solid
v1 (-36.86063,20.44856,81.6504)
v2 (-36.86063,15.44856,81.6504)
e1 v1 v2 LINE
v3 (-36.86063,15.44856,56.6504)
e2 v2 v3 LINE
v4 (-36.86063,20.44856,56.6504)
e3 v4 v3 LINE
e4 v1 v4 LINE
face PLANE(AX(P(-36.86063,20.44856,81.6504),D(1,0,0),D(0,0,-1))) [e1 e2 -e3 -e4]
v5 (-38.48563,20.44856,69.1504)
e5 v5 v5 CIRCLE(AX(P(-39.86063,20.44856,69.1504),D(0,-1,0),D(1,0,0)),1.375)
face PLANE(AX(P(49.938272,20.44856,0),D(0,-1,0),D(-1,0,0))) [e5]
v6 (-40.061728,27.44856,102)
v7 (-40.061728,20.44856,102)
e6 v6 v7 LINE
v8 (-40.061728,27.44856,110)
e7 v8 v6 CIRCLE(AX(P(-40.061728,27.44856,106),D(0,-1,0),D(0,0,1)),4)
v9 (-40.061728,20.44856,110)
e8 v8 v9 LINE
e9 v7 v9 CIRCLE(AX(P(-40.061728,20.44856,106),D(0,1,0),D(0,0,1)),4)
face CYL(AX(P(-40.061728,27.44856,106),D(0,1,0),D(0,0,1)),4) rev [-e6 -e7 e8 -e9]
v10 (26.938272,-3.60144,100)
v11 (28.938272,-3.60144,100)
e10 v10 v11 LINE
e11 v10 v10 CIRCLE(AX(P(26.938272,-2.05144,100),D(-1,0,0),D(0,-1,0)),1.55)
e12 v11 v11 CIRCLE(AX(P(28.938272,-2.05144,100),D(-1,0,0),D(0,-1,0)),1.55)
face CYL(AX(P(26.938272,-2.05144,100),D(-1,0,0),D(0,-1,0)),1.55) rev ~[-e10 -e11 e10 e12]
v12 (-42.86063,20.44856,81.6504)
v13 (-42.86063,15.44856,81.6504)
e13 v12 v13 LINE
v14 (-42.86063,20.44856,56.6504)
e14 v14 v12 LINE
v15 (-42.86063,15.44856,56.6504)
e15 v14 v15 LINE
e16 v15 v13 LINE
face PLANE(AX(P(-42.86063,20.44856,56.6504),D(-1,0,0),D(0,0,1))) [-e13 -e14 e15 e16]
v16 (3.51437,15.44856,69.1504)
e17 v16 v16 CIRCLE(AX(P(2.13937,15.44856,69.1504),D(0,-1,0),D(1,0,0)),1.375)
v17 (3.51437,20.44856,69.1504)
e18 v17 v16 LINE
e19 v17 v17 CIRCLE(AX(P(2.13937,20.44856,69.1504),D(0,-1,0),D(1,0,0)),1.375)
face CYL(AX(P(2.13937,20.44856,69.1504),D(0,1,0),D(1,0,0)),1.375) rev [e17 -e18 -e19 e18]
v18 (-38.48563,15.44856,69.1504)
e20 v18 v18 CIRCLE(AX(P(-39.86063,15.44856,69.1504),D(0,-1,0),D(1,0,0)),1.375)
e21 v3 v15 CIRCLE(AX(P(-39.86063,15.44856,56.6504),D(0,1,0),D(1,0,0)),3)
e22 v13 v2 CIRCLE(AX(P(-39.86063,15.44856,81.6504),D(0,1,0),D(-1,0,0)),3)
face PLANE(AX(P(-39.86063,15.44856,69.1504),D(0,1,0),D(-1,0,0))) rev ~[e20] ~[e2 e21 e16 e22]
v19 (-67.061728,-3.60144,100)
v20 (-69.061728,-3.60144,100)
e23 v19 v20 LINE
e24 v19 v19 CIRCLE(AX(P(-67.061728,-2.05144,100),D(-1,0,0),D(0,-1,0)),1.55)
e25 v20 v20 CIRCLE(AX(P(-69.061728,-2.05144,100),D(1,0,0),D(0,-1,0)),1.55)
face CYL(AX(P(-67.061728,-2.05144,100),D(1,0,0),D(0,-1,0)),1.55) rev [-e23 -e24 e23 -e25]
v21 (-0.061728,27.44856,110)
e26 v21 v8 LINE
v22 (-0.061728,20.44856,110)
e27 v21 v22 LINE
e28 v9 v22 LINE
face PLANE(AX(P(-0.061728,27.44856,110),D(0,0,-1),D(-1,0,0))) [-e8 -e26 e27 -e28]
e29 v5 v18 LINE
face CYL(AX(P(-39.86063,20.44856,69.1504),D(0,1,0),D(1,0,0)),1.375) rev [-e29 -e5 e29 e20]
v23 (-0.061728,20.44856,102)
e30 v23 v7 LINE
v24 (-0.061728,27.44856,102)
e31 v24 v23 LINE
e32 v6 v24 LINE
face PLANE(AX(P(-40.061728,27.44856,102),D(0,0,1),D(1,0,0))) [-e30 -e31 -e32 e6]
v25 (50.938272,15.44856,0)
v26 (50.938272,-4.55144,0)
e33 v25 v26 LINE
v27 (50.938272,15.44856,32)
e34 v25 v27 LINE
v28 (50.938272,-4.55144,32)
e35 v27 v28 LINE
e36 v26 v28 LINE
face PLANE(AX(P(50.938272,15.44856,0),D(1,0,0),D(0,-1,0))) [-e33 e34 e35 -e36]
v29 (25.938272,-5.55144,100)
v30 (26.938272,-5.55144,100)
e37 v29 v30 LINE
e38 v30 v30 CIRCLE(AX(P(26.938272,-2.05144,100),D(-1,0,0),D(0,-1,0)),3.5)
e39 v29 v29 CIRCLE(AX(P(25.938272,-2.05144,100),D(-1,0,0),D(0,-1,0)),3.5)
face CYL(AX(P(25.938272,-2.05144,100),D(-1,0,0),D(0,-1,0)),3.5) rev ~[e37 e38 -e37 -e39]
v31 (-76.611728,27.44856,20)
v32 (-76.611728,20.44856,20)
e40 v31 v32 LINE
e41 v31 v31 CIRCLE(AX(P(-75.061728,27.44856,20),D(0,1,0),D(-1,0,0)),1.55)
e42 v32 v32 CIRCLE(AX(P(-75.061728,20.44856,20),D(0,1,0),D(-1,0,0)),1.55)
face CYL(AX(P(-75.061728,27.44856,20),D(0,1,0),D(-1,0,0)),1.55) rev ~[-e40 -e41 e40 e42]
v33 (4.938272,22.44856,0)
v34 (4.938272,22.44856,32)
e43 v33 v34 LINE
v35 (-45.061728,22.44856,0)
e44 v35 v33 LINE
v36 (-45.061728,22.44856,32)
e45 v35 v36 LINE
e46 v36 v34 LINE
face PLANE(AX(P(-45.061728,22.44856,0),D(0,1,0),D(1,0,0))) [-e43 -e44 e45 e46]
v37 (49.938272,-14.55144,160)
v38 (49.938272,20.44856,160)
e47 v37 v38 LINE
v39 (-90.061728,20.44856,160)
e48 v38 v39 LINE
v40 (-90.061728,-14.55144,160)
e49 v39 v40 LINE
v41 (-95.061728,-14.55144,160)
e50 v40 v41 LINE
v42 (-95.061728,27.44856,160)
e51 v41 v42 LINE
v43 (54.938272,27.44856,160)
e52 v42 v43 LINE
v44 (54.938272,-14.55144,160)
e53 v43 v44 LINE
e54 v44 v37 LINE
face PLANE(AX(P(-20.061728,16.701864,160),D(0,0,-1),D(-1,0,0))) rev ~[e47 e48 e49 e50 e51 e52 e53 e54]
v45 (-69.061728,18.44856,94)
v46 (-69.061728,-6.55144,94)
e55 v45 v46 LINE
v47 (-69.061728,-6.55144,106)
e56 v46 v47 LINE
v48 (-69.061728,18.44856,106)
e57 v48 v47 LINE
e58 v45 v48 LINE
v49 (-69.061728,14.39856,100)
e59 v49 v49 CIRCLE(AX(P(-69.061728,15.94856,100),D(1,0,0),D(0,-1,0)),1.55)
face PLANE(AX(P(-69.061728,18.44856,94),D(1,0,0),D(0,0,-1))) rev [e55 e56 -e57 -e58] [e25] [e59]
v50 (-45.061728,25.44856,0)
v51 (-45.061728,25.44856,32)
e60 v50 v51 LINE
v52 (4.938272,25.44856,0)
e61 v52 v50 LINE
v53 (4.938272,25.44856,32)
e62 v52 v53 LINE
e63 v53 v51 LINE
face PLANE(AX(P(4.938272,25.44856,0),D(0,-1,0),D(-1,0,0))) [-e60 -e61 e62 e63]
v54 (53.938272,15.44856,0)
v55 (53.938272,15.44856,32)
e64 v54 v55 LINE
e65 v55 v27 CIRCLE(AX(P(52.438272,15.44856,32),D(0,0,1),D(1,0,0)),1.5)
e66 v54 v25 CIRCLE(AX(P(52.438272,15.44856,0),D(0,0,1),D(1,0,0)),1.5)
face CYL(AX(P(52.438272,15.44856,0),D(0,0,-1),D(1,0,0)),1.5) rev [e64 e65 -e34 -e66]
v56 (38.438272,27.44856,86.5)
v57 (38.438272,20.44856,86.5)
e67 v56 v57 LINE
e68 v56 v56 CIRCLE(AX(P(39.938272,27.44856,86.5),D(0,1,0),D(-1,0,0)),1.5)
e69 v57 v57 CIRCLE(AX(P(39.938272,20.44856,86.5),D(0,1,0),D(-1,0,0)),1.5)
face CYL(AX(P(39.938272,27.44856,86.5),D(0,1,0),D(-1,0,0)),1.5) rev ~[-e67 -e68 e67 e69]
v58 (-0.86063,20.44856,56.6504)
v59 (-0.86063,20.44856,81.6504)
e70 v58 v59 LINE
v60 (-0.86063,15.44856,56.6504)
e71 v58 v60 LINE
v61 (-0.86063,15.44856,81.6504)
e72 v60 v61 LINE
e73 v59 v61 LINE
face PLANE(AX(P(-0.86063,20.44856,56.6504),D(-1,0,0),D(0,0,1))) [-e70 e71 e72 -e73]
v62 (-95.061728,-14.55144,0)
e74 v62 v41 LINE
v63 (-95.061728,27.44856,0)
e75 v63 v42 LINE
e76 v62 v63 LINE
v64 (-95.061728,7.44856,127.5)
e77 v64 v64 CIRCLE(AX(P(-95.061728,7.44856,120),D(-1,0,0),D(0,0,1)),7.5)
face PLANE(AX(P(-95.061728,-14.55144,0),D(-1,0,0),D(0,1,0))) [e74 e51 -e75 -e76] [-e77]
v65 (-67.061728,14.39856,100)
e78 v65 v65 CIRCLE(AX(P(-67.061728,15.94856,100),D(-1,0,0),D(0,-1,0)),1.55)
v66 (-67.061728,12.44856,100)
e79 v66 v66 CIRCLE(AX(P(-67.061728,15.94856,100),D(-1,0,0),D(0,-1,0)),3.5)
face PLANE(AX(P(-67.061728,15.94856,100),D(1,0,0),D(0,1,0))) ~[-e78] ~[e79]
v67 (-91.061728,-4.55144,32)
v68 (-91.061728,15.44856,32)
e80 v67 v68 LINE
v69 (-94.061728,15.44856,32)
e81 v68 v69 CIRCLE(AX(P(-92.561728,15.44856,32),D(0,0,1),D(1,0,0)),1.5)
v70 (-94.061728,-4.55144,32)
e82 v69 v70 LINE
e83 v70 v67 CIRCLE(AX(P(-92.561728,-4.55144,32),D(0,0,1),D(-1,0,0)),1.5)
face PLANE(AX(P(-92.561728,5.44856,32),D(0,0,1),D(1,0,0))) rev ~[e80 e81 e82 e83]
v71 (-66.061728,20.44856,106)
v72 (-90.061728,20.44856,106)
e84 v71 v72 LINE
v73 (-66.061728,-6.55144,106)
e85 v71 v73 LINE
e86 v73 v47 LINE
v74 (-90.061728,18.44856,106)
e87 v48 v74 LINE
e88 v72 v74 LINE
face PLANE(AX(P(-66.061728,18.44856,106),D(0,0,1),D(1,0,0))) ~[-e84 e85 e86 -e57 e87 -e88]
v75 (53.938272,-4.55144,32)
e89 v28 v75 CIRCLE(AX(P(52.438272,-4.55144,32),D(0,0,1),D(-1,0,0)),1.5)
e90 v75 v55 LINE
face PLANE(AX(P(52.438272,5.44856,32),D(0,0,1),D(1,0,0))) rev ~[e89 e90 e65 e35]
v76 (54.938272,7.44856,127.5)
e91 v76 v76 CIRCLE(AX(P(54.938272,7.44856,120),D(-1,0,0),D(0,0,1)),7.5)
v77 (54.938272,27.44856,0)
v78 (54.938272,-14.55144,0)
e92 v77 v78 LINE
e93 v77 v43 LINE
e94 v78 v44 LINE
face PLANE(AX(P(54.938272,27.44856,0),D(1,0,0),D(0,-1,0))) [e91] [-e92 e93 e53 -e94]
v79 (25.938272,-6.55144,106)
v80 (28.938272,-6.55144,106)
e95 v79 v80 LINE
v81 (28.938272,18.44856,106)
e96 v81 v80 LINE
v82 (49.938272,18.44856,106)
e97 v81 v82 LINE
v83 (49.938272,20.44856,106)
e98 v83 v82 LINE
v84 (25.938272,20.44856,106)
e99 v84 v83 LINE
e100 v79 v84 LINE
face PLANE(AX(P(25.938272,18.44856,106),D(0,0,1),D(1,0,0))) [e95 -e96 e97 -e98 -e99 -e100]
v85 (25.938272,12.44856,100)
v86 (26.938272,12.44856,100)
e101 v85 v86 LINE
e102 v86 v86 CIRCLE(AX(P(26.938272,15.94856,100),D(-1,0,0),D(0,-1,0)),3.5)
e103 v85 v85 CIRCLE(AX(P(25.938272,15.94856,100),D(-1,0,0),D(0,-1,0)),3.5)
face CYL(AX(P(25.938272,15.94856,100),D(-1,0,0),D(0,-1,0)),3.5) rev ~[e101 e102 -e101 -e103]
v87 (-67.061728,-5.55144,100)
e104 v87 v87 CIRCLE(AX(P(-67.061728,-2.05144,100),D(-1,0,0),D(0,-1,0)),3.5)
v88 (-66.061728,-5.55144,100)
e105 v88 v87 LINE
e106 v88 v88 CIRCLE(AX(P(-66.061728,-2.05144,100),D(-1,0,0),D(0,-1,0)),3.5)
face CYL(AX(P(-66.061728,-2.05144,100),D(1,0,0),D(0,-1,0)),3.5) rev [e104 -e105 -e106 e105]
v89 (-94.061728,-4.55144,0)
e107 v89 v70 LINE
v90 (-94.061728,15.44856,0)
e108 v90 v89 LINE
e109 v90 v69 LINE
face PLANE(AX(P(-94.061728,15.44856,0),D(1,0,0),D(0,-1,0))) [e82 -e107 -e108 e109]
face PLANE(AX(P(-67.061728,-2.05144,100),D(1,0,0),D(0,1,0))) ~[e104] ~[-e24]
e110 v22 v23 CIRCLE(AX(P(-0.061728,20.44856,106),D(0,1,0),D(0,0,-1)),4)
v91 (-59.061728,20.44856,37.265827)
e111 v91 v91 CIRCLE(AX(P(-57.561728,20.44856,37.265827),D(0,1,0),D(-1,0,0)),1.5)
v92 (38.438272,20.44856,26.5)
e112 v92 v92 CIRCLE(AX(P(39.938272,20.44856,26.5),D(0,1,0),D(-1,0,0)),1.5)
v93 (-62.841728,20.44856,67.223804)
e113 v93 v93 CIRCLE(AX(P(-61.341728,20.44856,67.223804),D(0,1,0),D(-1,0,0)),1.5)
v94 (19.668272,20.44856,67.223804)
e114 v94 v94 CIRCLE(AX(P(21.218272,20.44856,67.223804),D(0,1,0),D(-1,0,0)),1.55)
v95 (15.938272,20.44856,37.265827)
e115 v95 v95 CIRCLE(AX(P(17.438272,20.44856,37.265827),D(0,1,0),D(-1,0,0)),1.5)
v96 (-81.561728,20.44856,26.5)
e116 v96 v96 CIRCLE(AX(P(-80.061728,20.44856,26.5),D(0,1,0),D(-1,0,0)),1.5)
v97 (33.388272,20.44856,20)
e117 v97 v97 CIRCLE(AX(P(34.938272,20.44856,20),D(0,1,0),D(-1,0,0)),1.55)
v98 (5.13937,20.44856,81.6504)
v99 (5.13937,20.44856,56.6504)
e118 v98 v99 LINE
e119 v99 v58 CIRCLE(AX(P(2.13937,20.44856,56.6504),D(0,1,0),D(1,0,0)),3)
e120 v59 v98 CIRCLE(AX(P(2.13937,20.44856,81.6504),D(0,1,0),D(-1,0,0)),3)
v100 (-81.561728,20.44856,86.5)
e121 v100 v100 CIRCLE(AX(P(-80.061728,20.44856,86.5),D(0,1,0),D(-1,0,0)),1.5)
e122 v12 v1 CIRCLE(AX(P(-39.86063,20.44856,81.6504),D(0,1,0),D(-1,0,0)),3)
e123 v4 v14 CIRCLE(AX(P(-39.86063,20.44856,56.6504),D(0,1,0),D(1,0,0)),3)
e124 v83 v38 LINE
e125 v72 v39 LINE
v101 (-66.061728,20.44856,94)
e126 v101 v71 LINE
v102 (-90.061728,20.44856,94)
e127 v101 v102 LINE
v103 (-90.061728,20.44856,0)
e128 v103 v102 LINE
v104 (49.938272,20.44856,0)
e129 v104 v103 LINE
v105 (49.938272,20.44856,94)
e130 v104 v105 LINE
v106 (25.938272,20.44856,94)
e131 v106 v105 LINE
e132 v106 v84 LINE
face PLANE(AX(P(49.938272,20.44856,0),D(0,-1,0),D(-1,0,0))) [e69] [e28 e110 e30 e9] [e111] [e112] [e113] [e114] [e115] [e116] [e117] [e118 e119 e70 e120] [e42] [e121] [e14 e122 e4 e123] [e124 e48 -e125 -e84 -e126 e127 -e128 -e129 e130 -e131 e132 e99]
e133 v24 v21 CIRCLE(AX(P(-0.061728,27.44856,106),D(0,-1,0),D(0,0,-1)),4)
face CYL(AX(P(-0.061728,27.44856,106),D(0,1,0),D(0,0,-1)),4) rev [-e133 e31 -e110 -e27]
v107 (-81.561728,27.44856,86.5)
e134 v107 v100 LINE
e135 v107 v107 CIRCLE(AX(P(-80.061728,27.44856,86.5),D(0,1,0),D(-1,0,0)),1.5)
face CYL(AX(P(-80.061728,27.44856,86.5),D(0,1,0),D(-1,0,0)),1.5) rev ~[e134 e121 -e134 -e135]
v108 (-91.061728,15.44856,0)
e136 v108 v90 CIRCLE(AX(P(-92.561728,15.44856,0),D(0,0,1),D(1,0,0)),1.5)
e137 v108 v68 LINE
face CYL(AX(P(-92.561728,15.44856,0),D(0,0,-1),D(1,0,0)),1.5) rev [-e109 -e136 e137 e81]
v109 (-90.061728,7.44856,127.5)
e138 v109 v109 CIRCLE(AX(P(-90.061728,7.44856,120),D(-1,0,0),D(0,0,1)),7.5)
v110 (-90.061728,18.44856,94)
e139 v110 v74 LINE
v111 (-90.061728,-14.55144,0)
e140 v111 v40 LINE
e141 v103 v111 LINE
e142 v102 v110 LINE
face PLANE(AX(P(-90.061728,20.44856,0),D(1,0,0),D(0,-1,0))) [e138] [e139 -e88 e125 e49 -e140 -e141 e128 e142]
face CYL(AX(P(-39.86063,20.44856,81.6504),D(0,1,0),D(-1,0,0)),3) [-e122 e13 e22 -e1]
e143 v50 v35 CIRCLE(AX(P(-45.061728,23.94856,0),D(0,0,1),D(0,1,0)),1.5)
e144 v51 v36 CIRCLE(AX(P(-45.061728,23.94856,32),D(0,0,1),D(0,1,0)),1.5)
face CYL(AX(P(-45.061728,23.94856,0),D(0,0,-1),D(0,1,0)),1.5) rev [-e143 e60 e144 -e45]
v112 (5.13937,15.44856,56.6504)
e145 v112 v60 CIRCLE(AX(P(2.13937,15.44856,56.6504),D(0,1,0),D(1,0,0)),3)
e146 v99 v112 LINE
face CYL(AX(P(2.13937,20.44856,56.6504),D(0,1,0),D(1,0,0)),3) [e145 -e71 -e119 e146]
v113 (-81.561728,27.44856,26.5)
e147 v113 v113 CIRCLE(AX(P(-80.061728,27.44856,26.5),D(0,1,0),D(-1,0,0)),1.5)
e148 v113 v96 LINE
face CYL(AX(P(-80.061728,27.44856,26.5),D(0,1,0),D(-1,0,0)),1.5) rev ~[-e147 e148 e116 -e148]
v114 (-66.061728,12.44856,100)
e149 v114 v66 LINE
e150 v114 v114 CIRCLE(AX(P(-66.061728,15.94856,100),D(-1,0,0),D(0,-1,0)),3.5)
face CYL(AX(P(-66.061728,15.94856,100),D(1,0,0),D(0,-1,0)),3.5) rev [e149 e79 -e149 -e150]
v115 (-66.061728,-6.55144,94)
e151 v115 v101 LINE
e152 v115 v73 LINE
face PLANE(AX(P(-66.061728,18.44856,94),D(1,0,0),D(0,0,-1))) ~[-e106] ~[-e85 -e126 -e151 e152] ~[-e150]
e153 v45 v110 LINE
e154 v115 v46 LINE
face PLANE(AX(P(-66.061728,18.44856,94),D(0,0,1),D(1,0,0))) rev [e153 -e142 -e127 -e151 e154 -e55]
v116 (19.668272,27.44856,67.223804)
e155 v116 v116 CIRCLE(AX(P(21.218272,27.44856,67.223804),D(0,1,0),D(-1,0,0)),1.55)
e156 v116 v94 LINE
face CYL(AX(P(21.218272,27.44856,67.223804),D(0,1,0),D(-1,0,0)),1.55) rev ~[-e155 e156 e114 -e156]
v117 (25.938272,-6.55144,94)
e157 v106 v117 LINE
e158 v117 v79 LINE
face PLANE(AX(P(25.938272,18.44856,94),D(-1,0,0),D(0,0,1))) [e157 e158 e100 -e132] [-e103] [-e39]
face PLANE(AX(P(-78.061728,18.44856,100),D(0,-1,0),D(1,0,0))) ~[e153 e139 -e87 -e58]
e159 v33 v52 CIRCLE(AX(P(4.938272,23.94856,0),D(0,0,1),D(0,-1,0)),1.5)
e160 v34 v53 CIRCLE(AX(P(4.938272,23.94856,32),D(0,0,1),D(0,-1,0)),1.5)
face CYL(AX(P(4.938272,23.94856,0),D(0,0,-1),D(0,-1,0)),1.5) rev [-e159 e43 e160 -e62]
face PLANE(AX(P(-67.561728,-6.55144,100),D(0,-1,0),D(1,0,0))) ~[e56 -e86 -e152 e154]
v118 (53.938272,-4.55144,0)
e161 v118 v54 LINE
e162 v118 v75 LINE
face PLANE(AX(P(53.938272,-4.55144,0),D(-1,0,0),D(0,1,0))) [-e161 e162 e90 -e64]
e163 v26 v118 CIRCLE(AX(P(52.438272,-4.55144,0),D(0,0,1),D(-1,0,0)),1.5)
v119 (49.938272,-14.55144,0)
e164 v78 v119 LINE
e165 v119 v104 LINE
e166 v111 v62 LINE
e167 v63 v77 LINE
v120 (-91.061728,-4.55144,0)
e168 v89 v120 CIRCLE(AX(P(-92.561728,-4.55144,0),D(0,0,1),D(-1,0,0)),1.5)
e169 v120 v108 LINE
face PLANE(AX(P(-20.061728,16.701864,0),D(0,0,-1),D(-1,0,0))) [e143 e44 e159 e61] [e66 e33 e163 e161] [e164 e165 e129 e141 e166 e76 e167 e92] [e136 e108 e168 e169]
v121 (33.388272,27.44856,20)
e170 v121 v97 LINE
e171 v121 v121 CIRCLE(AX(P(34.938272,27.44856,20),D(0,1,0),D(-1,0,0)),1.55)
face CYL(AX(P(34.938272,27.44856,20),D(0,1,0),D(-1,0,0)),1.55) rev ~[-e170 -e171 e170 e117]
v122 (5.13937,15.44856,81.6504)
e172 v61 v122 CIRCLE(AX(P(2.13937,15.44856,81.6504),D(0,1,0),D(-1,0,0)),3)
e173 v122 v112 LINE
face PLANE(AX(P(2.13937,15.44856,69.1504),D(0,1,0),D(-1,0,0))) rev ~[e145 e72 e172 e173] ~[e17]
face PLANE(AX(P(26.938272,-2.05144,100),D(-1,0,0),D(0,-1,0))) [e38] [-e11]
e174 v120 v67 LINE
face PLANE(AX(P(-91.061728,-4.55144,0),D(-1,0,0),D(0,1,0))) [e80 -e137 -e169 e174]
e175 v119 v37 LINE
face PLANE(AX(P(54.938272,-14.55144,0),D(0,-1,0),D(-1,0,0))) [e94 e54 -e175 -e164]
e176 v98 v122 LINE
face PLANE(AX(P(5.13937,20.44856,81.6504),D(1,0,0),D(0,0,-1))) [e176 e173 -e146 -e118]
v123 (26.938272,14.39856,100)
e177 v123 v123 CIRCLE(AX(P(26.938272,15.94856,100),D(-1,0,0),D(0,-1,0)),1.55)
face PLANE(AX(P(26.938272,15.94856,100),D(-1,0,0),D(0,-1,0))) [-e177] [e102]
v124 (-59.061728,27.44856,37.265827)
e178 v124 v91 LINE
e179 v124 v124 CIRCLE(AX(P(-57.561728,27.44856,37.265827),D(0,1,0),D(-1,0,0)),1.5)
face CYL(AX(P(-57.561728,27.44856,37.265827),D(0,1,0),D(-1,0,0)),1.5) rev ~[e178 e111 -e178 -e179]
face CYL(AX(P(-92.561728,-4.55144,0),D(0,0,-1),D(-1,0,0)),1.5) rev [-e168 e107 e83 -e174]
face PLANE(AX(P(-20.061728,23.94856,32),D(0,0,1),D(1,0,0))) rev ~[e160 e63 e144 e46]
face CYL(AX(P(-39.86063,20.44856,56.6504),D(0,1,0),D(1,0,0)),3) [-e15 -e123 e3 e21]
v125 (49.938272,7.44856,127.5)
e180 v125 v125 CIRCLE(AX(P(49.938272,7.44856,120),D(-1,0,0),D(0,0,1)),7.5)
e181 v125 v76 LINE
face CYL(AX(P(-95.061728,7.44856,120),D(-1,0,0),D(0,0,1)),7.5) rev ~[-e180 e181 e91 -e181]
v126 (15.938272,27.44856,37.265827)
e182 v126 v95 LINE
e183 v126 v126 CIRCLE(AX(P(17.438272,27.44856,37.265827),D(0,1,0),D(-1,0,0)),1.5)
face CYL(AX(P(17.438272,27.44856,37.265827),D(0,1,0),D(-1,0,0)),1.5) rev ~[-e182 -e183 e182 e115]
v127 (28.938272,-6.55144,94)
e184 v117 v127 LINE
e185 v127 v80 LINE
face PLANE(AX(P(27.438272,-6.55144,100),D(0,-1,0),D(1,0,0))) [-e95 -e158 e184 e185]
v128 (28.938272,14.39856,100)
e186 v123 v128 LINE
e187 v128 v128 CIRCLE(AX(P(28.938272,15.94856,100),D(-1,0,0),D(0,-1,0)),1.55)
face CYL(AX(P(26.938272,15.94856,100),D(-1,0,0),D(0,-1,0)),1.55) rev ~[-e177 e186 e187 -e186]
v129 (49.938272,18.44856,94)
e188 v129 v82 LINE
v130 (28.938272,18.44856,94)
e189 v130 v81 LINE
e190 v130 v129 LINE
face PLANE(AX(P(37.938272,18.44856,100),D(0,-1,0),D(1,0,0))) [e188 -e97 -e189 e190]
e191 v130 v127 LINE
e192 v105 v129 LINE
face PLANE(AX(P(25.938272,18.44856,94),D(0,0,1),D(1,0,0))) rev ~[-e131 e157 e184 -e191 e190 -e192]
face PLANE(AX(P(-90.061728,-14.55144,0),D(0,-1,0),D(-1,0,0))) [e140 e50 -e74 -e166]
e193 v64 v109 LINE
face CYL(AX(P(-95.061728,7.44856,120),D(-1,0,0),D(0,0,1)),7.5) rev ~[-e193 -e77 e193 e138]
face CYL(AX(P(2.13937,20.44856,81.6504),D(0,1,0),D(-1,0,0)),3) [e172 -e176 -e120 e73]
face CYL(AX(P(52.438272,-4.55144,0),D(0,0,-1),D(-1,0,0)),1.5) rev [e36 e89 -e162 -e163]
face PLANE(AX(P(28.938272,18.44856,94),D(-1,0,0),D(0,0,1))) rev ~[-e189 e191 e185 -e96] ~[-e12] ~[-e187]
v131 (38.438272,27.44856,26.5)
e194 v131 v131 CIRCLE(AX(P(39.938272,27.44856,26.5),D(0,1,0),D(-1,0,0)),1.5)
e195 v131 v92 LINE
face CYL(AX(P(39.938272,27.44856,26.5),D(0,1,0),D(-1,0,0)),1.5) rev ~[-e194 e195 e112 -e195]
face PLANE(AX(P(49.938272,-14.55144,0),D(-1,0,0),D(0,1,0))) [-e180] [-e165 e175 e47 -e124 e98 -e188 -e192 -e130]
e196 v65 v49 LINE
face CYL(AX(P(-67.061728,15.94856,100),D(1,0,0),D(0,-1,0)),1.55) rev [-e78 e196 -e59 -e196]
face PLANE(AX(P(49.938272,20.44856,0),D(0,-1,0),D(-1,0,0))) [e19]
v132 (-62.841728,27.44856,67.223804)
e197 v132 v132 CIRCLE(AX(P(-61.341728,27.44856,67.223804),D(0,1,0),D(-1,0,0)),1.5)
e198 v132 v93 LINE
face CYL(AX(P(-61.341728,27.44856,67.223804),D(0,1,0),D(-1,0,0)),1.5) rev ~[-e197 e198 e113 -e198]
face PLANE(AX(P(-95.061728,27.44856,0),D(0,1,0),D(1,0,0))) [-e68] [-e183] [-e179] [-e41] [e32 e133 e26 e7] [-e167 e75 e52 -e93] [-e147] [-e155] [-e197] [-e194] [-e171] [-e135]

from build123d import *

# Parameters (mm, degrees)
BOSS_EXTRUDE1_DEPTH = 160
CUT_EXTRUDE1_DEPTH  = 32
SKETCH3_R           = 7.5
CUT_EXTRUDE2_DEPTH  = 210
SKETCH5_R           = 1.5
CUT_EXTRUDE4_DEPTH  = 210
CUT_EXTRUDE6_DEPTH  = 20
SKETCH8_R           = 1.55
CUT_EXTRUDE7_DEPTH  = 10
SKETCH9_W           = 24
SKETCH9_H           = 12
BOSS_EXTRUDE3_DEPTH = 2
SKETCH10_W          = 3
SKETCH10_H          = 12
BOSS_EXTRUDE4_DEPTH = 25
SKETCH11_R          = 3.5
CUT_EXTRUDE8_DEPTH  = 1
SKETCH12_R          = 1.55
CUT_EXTRUDE9_DEPTH  = 3
SKETCH13_R          = 1.5
SKETCH13_R_2        = 1.55
CUT_EXTRUDE10_DEPTH = 10
SKETCH14_R          = 1.375
BOSS_EXTRUDE5_DEPTH = 5


with BuildPart() as part:
    # Sketch1 → Boss-Extrude1 (new body)
    with BuildSketch(Plane.XY):
        Polygon((-95.061728395, -14.551440329), (-95.061728395, 27.448559671), (54.938271605, 27.448559671), (54.938271605, -14.551440329), (49.938271605, -14.551440329), (49.938271605, 20.448559671), (-90.061728395, 20.448559671), (-90.061728395, -14.551440329), align=None)
    extrude(amount=BOSS_EXTRUDE1_DEPTH)

    # Sketch2 → Cut-Extrude1 (cut)
    with BuildSketch(Plane(origin=(0, 0, 0), x_dir=(-1, 0, 0), z_dir=(0, 0, -1))):
        with BuildLine():
            Line((-50.938271605, 15.448559671), (-50.938271605, -4.551440329))
            ThreePointArc((-50.938271605, -4.551440329), (-52.438271605, -6.051440329), (-53.938271605, -4.551440329))
            Line((-53.938271605, -4.551440329), (-53.938271605, 15.448559671))
            ThreePointArc((-53.938271605, 15.448559671), (-52.438271605, 16.948559671), (-50.938271605, 15.448559671))
        make_face()
        with BuildLine():
            Line((-4.938271605, 25.448559671), (45.061728395, 25.448559671))
            ThreePointArc((45.061728395, 25.448559671), (46.561728395, 23.948559671), (45.061728395, 22.448559671))
            Line((45.061728395, 22.448559671), (-4.938271605, 22.448559671))
            ThreePointArc((-4.938271605, 22.448559671), (-6.438271605, 23.948559671), (-4.938271605, 25.448559671))
        make_face()
        with BuildLine():
            Line((94.061728395, 15.448559671), (94.061728395, -4.551440329))
            ThreePointArc((94.061728395, -4.551440329), (92.561728395, -6.051440329), (91.061728395, -4.551440329))
            Line((91.061728395, -4.551440329), (91.061728395, 15.448559671))
            ThreePointArc((91.061728395, 15.448559671), (92.561728395, 16.948559671), (94.061728395, 15.448559671))
        make_face()
    extrude(amount=-CUT_EXTRUDE1_DEPTH, mode=Mode.SUBTRACT)

    # Sketch3 → Cut-Extrude2 (cut)
    with BuildSketch(Plane.ZY.offset(95.061728395)):
        with Locations((120, 7.448559671)):
            Circle(SKETCH3_R)
    extrude(amount=-CUT_EXTRUDE2_DEPTH, mode=Mode.SUBTRACT)

    # Sketch5 → Cut-Extrude4 (cut)
    with BuildSketch(Plane(origin=(0, 27.448559671, 0), x_dir=(1, 0, 0), z_dir=(0, 1, 0))):
        with Locations(Location((-80.061728395, -26.5, 0), (0, 0, 180))):
            Circle(SKETCH5_R)
        with Locations(Location((39.938271605, -26.5, 0), (0, 0, 180))):
            Circle(SKETCH5_R)
        with Locations(Location((-80.061728395, -86.5, 0), (0, 0, 180))):
            Circle(SKETCH5_R)
        with Locations(Location((39.938271605, -86.5, 0), (0, 0, 180))):
            Circle(SKETCH5_R)
    extrude(amount=-CUT_EXTRUDE4_DEPTH, mode=Mode.SUBTRACT)

    # Sketch7 → Cut-Extrude6 (cut)
    with BuildSketch(Plane(origin=(0, 27.448559671, 0), x_dir=(1, 0, 0), z_dir=(0, 1, 0))):
        with BuildLine():
            Line((-40.061728395, -102), (-0.061728395, -102))
            ThreePointArc((-0.061728395, -102), (3.938271605, -106), (-0.061728395, -110))
            Line((-0.061728395, -110), (-40.061728395, -110))
            ThreePointArc((-40.061728395, -110), (-44.061728395, -106), (-40.061728395, -102))
        make_face()
    extrude(amount=-CUT_EXTRUDE6_DEPTH, mode=Mode.SUBTRACT)

    # Sketch8 → Cut-Extrude7 (cut)
    with BuildSketch(Plane(origin=(0, 27.448559671, 0), x_dir=(1, 0, 0), z_dir=(0, 1, 0))):
        with Locations(Location((-75.061728395, -20, 0), (0, 0, 180))):
            Circle(SKETCH8_R)
        with Locations(Location((34.938271605, -20, 0), (0, 0, 180))):
            Circle(SKETCH8_R)
    extrude(amount=-CUT_EXTRUDE7_DEPTH, mode=Mode.SUBTRACT)

    # Sketch9 → Boss-Extrude3 (add)
    with BuildSketch(Plane.XZ.offset(-20.448559671)):
        with Locations((37.938271605, 100)):
            Rectangle(SKETCH9_W, SKETCH9_H)
    boss_extrude3 = extrude(amount=BOSS_EXTRUDE3_DEPTH)

    # Sketch10 → Boss-Extrude4 (add)
    with BuildSketch(Plane.XZ.offset(-18.448559671)):
        with Locations((27.438271605, 100)):
            Rectangle(SKETCH10_W, SKETCH10_H)
    boss_extrude4 = extrude(amount=BOSS_EXTRUDE4_DEPTH)

    # Sketch11 → Cut-Extrude8 (cut)
    with BuildSketch(Plane.ZY.offset(-25.938271605)):
        with Locations(Location((100, 15.948559671, 0), (0, 0, 270))):
            Circle(SKETCH11_R)
        with Locations(Location((100, -2.051440329, 0), (0, 0, 270))):
            Circle(SKETCH11_R)
    cut_extrude8 = extrude(amount=-CUT_EXTRUDE8_DEPTH, mode=Mode.SUBTRACT)

    # Sketch12 → Cut-Extrude9 (cut)
    with BuildSketch(Plane.ZY.offset(-26.938271605)):
        with Locations(Location((100, 15.948559671, 0), (0, 0, 270))):
            Circle(SKETCH12_R)
        with Locations(Location((100, -2.051440329, 0), (0, 0, 270))):
            Circle(SKETCH12_R)
    cut_extrude9 = extrude(amount=-CUT_EXTRUDE9_DEPTH, mode=Mode.SUBTRACT)

    # Mirror1: Boss-Extrude3, Boss-Extrude4, Cut-Extrude8, Cut-Extrude9 across plane
    add(boss_extrude3.mirror(Plane.ZY.offset(20.061728395)))
    add(boss_extrude4.mirror(Plane.ZY.offset(20.061728395)))
    add(cut_extrude8.mirror(Plane.ZY.offset(20.061728395)), mode=Mode.SUBTRACT)
    add(cut_extrude9.mirror(Plane.ZY.offset(20.061728395)), mode=Mode.SUBTRACT)

    # Sketch13 → Cut-Extrude10 (cut)
    with BuildSketch(Plane(origin=(0, 27.448559671, 0), x_dir=(1, 0, 0), z_dir=(0, 1, 0))):
        with Locations(Location((17.438271605, -37.265826534, 0), (0, 0, 180))):
            Circle(SKETCH13_R)
        with Locations(Location((-57.561728395, -37.265826534, 0), (0, 0, 180))):
            Circle(SKETCH13_R)
        with Locations(Location((-61.341728395, -67.223803809, 0), (0, 0, 180))):
            Circle(SKETCH13_R)
        with Locations(Location((21.218271605, -67.223803809, 0), (0, 0, 180))):
            Circle(SKETCH13_R_2)
    extrude(amount=-CUT_EXTRUDE10_DEPTH, mode=Mode.SUBTRACT)

    # Sketch14 → Boss-Extrude5 (add)
    # profile 1 of 2: a face of its own
    with BuildSketch(Plane.XZ.offset(-20.448559671)):
        with BuildLine():
            Line((5.139369782, 81.650400065), (5.139369782, 56.650400065))
            ThreePointArc((5.139369782, 56.650400065), (2.139369782, 53.650400065), (-0.860630218, 56.650400065))
            Line((-0.860630218, 56.650400065), (-0.860630218, 81.650400065))
            ThreePointArc((-0.860630218, 81.650400065), (2.139369782, 84.650400065), (5.139369782, 81.650400065))
        make_face()
        with Locations((2.139369782, 69.150400065)):
            Circle(SKETCH14_R, mode=Mode.SUBTRACT)
    # profile 2 of 2: a face of its own
    with BuildSketch(Plane.XZ.offset(-20.448559671)):
        with BuildLine():
            Line((-36.860630218, 81.650400065), (-36.860630218, 56.650400065))
            ThreePointArc((-36.860630218, 56.650400065), (-39.860630218, 53.650400065), (-42.860630218, 56.650400065))
            Line((-42.860630218, 56.650400065), (-42.860630218, 81.650400065))
            ThreePointArc((-42.860630218, 81.650400065), (-39.860630218, 84.650400065), (-36.860630218, 81.650400065))
        make_face()
        with Locations((-39.860630218, 69.150400065)):
            Circle(SKETCH14_R, mode=Mode.SUBTRACT)
    extrude(amount=BOSS_EXTRUDE5_DEPTH)


solid = part.part
